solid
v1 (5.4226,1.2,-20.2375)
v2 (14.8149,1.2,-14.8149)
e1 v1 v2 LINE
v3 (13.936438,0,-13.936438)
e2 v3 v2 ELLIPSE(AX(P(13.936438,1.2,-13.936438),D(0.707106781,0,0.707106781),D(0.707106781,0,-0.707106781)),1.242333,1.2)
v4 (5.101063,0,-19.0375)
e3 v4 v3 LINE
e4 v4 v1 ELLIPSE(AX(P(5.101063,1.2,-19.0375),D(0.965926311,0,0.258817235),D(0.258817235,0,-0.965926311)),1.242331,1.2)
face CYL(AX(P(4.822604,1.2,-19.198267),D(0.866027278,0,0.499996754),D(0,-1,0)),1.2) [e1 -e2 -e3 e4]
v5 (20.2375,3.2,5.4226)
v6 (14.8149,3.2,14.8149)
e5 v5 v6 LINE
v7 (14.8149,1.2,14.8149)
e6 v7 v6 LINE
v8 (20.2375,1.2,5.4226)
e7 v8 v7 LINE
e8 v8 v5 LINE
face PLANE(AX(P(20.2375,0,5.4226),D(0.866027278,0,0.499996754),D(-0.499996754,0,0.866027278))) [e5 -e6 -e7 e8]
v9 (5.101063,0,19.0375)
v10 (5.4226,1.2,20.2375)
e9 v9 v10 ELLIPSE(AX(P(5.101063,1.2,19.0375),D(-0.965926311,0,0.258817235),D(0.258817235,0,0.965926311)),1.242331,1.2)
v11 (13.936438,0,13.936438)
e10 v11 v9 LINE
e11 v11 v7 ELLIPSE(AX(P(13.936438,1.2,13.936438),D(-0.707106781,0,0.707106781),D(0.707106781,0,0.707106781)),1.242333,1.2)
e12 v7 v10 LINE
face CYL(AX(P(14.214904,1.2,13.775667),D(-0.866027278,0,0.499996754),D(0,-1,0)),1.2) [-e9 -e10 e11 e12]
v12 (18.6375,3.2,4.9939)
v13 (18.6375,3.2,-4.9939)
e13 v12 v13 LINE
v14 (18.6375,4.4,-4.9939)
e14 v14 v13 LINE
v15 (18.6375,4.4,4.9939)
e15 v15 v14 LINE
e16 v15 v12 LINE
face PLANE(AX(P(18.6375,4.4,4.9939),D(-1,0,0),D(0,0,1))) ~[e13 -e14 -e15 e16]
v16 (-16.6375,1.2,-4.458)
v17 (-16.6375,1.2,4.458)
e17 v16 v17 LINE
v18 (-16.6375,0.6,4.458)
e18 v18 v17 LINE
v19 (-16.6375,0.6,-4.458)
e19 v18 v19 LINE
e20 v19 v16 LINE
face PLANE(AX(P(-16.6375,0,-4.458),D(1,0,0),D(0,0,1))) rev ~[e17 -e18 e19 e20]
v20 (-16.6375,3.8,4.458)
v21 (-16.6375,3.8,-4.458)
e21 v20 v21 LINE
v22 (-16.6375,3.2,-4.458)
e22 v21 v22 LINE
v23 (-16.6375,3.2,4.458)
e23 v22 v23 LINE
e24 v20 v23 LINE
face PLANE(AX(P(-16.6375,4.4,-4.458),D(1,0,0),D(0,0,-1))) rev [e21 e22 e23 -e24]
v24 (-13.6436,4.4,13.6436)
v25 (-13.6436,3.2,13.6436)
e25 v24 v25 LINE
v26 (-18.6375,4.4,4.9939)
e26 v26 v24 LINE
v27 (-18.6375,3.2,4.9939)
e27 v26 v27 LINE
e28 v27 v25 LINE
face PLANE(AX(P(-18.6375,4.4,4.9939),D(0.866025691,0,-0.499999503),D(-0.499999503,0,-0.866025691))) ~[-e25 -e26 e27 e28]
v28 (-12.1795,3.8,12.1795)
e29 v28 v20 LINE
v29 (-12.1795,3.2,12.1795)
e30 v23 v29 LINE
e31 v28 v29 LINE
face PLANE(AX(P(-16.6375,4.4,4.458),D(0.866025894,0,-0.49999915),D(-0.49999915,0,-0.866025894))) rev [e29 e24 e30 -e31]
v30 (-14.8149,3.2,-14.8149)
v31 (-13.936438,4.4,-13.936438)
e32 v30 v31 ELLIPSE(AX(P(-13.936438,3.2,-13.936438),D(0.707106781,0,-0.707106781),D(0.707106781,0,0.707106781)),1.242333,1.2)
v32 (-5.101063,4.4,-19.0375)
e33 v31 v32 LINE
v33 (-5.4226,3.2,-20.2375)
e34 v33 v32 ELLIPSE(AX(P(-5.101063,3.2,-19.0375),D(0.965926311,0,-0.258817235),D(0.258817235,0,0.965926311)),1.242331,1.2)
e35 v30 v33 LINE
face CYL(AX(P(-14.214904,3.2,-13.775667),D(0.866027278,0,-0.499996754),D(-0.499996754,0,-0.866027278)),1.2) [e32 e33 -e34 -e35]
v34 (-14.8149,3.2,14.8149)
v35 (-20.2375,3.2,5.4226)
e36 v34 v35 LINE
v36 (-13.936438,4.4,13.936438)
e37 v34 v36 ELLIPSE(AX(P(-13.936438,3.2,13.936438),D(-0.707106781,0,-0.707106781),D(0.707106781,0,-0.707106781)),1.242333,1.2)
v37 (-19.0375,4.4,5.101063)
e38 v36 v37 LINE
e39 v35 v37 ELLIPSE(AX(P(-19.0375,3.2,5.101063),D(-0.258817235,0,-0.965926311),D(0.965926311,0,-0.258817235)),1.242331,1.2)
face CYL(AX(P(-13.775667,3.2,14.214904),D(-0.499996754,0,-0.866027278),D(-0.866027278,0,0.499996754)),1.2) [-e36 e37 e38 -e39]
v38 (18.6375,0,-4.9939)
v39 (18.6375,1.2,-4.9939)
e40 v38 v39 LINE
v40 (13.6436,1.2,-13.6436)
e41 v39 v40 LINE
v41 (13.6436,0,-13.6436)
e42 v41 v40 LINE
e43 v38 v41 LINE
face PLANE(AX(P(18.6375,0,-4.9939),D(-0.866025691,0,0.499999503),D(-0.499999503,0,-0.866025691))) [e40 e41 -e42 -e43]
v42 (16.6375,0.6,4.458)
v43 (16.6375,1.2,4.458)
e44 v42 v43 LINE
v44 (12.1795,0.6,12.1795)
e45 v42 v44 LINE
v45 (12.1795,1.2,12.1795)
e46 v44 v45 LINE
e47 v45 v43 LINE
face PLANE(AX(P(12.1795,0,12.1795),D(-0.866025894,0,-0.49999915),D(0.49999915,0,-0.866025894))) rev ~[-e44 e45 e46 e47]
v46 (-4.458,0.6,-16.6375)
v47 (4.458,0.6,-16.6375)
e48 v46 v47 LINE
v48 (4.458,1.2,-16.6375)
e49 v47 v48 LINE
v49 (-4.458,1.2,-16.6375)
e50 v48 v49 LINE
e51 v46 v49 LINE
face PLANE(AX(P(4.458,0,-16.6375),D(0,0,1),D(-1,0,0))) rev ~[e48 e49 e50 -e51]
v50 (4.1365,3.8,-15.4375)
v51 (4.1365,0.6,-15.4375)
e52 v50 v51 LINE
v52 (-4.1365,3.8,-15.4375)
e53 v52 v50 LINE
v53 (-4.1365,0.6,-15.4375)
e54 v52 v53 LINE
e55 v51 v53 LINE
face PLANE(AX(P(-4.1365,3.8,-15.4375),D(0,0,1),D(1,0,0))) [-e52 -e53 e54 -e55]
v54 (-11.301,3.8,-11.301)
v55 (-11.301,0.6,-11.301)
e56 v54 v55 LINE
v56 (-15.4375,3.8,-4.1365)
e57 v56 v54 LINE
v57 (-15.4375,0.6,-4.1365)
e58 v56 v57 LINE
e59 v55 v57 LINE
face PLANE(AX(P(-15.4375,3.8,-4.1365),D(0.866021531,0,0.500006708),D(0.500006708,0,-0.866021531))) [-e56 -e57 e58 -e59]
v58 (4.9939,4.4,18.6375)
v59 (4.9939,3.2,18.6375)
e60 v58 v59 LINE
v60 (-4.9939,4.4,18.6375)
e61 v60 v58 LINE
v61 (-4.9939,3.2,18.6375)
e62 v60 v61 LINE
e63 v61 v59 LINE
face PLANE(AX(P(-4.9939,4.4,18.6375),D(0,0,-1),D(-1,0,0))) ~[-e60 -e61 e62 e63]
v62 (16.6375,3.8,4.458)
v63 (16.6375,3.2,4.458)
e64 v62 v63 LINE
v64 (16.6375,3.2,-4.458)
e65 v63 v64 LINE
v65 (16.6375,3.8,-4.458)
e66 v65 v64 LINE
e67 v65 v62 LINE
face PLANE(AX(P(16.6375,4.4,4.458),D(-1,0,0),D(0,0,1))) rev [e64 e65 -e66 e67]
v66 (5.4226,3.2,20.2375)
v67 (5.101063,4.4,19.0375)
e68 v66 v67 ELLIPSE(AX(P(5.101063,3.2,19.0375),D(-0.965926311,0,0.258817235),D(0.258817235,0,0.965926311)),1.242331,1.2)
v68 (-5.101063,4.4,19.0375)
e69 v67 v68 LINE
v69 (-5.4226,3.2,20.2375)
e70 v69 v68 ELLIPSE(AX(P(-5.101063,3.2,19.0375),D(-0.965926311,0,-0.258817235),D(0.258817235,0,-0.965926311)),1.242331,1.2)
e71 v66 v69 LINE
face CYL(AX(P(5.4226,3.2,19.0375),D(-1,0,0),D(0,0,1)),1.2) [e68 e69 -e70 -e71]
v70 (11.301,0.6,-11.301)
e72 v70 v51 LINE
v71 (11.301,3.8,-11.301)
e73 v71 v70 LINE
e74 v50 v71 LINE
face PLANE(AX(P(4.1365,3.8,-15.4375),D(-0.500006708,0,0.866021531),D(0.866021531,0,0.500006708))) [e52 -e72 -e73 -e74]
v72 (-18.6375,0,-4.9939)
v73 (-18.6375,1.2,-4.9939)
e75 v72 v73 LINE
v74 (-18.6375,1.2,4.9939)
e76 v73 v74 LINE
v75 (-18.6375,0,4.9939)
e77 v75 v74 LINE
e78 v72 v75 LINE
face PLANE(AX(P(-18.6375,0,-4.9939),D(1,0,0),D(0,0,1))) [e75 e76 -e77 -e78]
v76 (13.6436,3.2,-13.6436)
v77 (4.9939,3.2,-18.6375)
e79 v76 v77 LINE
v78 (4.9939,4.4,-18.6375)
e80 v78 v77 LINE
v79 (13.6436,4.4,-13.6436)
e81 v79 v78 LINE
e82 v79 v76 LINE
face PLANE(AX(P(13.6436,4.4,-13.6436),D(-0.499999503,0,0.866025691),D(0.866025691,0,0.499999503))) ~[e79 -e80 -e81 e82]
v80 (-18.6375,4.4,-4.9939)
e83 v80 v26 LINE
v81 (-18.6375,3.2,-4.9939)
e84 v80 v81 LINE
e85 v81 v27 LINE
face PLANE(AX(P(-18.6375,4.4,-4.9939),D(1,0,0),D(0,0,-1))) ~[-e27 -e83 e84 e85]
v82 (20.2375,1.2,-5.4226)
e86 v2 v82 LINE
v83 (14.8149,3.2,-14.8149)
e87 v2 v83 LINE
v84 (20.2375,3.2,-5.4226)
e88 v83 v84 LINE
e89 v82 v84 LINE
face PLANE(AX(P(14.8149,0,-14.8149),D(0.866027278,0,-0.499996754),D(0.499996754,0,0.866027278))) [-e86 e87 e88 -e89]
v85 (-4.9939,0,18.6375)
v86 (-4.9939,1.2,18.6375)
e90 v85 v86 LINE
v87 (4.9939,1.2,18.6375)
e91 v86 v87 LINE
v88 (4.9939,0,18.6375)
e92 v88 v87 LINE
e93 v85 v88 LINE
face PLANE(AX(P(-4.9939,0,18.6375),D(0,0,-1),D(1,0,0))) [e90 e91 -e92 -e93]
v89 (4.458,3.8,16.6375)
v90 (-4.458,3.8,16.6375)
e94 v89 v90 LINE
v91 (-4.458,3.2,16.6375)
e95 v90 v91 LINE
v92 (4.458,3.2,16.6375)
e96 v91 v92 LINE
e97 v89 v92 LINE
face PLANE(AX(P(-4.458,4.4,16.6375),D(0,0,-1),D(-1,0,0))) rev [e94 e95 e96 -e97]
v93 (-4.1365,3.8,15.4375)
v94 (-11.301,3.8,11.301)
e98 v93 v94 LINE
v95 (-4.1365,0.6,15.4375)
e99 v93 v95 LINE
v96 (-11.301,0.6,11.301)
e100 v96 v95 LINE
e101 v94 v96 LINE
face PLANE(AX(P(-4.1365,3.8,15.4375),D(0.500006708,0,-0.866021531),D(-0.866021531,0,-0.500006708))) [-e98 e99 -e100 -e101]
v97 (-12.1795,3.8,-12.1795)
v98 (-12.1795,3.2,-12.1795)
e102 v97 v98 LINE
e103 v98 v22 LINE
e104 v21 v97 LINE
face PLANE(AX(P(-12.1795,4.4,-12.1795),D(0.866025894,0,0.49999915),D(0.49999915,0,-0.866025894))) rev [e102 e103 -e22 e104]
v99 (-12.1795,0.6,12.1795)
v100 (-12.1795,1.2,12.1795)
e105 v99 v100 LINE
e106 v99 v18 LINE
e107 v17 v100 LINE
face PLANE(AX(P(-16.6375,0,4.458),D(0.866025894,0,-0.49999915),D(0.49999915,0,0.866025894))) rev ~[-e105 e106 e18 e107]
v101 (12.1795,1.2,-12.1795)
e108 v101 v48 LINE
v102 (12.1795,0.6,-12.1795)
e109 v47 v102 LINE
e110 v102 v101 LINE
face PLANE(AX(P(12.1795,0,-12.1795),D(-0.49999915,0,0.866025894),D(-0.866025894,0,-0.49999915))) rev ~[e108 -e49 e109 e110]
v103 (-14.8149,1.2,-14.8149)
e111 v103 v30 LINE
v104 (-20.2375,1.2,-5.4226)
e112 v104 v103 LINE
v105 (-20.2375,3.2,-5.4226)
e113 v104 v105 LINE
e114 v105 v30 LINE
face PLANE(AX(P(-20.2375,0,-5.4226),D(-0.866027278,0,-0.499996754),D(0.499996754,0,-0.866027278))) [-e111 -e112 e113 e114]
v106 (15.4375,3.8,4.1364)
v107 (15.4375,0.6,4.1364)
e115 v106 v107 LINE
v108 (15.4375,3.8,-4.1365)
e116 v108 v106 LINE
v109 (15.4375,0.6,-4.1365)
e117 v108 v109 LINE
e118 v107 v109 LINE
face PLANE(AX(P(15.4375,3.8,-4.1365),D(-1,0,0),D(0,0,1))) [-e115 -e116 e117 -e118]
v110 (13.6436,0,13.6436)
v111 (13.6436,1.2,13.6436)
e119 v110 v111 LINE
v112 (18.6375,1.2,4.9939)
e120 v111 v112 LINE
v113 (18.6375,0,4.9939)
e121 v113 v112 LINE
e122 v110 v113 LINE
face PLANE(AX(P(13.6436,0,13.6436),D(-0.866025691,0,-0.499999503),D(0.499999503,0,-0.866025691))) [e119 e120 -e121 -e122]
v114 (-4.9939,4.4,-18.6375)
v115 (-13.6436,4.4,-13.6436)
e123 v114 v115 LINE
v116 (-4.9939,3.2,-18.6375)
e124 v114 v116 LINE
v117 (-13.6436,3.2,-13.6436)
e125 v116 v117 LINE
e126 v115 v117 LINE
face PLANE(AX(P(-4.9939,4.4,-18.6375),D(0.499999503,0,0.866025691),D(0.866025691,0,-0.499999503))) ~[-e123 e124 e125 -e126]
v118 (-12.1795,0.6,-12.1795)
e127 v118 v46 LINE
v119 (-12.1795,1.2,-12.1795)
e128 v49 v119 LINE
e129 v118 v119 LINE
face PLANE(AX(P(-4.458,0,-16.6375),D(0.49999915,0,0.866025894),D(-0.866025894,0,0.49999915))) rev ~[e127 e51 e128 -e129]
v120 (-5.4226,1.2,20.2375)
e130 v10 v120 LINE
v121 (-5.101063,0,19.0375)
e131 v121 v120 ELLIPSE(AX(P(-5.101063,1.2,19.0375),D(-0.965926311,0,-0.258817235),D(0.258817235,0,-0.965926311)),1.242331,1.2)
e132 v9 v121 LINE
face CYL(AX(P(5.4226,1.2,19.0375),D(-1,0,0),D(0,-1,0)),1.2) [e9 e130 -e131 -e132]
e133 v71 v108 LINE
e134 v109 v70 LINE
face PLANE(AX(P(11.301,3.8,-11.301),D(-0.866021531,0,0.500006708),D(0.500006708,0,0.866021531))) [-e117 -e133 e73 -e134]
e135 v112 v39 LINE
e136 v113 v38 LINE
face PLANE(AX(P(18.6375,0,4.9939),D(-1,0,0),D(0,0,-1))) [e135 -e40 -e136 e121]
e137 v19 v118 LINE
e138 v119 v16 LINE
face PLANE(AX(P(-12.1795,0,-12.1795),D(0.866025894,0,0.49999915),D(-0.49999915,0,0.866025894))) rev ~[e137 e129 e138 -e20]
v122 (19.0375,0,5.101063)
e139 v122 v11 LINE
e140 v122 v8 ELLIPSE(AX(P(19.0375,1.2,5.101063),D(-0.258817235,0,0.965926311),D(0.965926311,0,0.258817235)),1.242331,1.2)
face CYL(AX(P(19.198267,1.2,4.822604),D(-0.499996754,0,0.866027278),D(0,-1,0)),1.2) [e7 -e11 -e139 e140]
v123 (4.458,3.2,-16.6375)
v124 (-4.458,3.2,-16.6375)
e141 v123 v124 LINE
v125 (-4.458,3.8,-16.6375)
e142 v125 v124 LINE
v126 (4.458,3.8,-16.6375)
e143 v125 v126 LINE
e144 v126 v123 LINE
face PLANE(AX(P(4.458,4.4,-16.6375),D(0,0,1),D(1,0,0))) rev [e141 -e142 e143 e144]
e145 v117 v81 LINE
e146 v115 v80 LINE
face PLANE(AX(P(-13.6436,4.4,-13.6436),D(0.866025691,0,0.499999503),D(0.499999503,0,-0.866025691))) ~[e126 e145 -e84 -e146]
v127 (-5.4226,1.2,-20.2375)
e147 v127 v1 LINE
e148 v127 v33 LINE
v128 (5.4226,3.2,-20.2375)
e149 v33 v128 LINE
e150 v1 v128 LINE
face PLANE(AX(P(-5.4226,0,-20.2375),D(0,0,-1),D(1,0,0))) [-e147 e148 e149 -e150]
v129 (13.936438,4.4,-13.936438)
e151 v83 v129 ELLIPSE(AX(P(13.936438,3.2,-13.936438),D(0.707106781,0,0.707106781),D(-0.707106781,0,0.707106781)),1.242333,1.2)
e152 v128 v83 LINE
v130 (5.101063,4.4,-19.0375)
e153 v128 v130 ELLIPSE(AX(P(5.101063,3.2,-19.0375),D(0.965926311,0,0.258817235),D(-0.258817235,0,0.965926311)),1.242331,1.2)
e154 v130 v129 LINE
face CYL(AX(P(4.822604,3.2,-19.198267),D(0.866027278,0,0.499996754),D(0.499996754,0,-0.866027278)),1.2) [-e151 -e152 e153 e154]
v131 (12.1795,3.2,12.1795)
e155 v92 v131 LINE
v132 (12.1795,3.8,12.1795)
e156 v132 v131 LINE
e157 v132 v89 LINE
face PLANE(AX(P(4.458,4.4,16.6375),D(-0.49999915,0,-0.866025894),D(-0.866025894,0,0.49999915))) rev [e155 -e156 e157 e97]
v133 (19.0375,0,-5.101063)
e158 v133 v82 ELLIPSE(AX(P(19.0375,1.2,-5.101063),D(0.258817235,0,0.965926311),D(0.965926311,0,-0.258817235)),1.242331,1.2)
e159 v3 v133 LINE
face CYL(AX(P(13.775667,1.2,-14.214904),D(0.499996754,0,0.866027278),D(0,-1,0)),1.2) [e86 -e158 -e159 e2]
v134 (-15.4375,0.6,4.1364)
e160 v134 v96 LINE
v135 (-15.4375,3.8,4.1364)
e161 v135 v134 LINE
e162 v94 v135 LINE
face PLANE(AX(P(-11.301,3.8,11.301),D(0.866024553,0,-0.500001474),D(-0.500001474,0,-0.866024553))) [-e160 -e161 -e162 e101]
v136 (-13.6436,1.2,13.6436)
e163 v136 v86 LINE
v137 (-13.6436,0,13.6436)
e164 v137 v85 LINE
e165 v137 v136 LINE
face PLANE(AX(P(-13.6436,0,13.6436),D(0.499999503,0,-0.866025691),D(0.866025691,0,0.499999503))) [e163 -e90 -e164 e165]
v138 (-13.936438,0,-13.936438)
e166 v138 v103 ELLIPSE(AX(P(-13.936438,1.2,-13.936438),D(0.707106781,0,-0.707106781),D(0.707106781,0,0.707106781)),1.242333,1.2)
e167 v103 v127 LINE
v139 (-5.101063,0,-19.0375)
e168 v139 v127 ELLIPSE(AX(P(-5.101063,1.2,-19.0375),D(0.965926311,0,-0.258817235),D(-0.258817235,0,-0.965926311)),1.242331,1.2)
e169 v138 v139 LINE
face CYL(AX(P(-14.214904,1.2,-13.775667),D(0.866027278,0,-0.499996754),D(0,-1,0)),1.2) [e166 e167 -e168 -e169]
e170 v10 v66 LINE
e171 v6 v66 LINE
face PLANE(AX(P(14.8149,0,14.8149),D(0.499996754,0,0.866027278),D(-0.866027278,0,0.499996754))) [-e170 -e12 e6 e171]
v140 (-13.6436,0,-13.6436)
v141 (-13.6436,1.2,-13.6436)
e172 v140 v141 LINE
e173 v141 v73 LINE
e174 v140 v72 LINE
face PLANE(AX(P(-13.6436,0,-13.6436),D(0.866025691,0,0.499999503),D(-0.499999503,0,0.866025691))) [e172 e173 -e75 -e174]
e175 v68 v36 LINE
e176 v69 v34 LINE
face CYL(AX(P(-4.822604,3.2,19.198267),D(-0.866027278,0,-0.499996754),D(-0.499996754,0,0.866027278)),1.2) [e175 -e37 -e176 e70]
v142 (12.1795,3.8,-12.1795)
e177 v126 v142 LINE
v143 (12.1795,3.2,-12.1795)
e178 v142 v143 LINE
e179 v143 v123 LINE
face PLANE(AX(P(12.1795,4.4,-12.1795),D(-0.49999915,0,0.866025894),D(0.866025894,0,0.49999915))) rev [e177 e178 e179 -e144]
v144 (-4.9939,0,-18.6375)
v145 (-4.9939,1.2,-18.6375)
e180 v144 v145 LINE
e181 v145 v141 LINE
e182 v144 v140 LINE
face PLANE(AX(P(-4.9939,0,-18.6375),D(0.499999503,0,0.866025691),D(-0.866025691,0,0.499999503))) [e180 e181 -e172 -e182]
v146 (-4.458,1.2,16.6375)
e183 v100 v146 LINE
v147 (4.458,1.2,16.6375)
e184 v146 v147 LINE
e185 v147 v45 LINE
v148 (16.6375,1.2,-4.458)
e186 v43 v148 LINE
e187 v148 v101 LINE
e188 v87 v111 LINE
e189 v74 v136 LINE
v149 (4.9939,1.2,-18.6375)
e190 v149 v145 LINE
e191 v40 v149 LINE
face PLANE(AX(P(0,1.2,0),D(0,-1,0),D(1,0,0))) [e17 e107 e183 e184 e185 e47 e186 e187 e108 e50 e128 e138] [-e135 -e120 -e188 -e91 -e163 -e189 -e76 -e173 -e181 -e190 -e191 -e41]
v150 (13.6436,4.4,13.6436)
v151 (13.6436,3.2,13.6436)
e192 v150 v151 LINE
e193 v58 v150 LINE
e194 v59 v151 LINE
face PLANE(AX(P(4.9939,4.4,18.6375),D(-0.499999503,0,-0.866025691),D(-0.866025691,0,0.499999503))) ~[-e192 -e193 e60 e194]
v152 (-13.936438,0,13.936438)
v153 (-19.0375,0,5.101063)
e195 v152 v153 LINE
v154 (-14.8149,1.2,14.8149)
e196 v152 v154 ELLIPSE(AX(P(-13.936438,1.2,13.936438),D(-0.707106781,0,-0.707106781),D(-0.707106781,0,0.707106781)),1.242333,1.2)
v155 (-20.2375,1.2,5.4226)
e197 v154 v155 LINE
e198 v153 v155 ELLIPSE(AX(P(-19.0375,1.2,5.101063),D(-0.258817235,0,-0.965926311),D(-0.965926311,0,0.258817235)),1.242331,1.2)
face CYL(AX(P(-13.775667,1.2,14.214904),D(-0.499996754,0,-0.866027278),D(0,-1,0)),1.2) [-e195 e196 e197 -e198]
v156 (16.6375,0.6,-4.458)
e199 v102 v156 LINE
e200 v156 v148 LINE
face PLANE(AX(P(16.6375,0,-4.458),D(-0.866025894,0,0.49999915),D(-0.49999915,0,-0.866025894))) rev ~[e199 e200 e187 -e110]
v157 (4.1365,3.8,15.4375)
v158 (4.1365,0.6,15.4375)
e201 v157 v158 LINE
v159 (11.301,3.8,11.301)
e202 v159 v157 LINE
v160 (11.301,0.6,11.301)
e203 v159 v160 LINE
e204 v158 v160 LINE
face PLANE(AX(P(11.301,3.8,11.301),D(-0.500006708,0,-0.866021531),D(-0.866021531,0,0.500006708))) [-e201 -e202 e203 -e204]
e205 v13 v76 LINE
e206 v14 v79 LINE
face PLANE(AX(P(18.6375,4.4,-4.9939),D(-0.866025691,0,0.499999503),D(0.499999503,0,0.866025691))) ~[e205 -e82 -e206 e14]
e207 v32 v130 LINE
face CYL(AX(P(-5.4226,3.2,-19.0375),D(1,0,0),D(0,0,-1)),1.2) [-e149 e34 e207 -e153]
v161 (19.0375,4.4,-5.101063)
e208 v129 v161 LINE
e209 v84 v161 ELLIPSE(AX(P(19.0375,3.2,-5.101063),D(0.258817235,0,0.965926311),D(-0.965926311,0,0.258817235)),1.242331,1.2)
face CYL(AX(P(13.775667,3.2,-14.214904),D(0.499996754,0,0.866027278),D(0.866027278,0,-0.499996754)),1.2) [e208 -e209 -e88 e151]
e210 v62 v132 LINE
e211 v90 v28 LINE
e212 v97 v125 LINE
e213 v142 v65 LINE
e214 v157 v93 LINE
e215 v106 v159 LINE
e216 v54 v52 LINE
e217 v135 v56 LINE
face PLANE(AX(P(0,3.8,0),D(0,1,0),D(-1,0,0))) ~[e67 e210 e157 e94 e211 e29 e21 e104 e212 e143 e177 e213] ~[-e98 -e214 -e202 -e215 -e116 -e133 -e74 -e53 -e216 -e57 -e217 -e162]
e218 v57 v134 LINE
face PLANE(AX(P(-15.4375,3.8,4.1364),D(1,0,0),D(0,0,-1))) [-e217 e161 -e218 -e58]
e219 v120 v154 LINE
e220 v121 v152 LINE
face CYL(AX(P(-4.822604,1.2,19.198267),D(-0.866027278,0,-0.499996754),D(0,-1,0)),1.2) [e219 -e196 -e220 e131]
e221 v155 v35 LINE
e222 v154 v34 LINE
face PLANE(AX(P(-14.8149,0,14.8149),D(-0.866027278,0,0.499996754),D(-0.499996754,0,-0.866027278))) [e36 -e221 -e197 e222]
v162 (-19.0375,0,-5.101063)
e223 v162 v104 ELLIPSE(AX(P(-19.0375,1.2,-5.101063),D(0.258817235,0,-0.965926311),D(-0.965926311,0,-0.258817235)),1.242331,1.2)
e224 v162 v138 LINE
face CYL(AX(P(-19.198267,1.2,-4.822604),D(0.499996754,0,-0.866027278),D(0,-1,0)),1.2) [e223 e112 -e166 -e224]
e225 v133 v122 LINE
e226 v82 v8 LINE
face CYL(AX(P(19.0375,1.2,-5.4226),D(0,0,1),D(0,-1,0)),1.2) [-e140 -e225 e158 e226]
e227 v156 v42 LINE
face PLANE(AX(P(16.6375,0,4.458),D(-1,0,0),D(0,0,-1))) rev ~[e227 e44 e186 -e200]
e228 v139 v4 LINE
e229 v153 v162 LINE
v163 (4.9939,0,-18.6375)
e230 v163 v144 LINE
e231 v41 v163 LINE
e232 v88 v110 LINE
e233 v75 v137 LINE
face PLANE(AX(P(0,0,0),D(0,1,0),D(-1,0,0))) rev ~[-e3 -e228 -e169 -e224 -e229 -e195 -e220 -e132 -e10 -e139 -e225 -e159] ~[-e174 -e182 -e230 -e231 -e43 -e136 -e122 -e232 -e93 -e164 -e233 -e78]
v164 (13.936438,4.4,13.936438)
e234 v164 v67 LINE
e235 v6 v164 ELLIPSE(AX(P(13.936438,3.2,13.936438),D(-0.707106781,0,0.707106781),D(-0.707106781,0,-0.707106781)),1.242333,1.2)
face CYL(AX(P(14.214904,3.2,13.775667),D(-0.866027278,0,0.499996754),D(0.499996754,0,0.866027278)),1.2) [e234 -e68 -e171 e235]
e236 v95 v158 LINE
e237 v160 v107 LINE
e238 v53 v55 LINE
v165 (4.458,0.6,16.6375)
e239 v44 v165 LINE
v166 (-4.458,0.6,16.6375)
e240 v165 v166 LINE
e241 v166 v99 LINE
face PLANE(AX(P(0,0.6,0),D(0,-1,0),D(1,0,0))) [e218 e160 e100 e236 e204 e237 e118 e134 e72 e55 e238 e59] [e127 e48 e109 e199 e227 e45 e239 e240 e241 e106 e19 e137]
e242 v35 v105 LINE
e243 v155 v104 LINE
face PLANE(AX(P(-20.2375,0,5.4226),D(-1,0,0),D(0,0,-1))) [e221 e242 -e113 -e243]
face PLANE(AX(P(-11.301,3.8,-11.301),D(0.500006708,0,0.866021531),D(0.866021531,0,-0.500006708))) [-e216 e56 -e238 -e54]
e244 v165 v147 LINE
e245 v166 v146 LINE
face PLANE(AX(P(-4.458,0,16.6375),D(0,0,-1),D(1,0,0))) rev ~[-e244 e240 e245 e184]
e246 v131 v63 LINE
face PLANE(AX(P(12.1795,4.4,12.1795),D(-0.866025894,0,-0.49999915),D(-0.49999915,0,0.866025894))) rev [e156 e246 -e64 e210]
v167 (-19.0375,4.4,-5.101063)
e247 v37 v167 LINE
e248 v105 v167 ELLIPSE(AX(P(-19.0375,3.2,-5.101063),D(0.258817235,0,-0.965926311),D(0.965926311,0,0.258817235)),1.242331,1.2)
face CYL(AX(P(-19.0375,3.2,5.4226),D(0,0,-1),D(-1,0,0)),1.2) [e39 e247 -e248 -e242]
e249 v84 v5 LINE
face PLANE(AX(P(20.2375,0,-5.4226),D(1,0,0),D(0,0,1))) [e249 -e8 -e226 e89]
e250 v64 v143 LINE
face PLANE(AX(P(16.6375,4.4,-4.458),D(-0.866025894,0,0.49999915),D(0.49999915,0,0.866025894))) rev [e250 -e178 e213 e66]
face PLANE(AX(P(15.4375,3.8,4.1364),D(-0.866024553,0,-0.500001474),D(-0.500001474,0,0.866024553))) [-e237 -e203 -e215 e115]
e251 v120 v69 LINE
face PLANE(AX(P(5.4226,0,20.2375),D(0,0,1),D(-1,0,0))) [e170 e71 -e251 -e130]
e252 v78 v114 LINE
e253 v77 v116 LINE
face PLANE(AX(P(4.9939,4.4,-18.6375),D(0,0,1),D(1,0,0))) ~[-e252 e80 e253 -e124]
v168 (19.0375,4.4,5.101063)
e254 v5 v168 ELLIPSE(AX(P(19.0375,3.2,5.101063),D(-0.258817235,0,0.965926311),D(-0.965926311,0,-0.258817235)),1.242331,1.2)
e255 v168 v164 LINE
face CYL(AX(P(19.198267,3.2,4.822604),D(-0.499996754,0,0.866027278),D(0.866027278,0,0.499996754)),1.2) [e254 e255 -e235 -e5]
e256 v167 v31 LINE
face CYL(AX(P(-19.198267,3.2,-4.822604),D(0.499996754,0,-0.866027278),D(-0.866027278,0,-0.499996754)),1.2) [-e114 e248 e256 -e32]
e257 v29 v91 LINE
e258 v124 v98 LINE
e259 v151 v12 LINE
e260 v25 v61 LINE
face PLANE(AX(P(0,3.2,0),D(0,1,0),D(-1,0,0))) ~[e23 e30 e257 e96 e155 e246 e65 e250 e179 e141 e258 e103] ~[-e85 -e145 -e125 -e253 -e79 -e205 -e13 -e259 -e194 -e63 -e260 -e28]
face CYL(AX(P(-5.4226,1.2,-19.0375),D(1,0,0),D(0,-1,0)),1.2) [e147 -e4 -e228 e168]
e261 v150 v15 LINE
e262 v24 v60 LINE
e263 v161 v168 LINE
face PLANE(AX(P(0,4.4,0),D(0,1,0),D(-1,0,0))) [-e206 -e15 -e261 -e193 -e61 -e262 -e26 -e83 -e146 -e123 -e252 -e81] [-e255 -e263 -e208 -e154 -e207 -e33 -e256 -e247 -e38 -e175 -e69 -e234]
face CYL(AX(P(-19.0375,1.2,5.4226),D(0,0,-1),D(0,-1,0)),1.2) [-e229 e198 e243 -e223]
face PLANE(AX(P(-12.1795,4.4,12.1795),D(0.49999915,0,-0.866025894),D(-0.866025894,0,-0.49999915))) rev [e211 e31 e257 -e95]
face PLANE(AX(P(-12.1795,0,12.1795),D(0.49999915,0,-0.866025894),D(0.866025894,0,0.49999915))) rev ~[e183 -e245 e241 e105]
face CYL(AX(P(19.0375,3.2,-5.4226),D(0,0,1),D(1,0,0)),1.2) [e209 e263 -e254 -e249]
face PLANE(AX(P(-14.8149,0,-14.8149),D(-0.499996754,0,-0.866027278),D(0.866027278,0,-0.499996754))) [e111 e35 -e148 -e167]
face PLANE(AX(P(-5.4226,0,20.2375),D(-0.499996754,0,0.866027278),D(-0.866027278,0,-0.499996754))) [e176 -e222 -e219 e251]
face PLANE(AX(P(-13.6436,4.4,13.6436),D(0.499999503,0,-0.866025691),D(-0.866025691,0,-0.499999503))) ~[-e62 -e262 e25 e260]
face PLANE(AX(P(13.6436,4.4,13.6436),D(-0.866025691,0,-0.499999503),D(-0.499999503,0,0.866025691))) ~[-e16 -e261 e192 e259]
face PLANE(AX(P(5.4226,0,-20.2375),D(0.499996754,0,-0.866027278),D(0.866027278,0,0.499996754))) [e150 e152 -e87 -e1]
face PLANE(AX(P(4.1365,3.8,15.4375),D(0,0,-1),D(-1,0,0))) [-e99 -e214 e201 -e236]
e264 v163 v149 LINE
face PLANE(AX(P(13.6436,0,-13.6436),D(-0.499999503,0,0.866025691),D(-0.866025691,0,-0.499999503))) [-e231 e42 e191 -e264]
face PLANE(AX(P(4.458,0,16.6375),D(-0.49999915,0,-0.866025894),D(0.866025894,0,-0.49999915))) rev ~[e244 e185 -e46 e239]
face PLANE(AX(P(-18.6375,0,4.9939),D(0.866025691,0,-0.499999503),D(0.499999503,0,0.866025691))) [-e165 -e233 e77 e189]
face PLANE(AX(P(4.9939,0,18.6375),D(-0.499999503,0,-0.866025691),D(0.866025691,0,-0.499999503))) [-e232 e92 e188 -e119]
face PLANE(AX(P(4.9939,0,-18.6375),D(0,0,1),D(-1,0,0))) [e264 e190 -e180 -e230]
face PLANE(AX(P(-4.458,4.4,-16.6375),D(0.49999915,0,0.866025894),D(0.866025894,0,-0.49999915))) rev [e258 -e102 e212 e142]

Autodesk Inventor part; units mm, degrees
ref_plane "YZ Plane" through (0, 0, 0) normal (1, 0, 0) x (0, 1, 0)
ref_plane "XZ Plane" through (0, 0, 0) normal (0, 1, 0) x (-1, 0, 0)
sketch "스케치1" plane through (0, 0, 0) normal (0, 1, 0) x (-1, 0, 0)
  line L0 (12.4723, -12.4723) -> (4.5652, -17.0375)
  line L1 (4.5652, -17.0375) -> (-4.5652, -17.0375)
  line L2 (-4.5652, -17.0375) -> (-12.4723, -12.4723)
  line L3 (-12.4723, -12.4723) -> (-17.0375, -4.5652)
  line L4 (-17.0375, -4.5652) -> (-17.0375, 4.5652)
  line L5 (-17.0375, 4.5652) -> (-12.4723, 12.4723)
  line L6 (-12.4723, 12.4723) -> (-4.5652, 17.0375)
  line L7 (-4.5652, 17.0375) -> (4.5652, 17.0375)
  line L8 (4.5652, 17.0375) -> (12.4723, 12.4723)
  line L9 (12.4723, 12.4723) -> (17.0375, 4.5652)
  line L10 (17.0375, 4.5652) -> (17.0375, -4.5652)
  line L11 (17.0375, -4.5652) -> (12.4723, -12.4723)
  line L12 (-5.4226, 20.2375) -> (5.4226, 20.2375)
  line L13 (5.4226, 20.2375) -> (14.8149, 14.8149)
  line L14 (14.8149, 14.8149) -> (20.2375, 5.4226)
  line L15 (20.2375, 5.4226) -> (20.2375, -5.4226)
  line L16 (20.2375, -5.4226) -> (14.8149, -14.8149)
  line L17 (14.8149, -14.8149) -> (5.4226, -20.2375)
  line L18 (5.4226, -20.2375) -> (-5.4226, -20.2375)
  line L19 (-5.4226, -20.2375) -> (-14.8149, -14.8149)
  line L20 (-14.8149, -14.8149) -> (-20.2375, -5.4226)
  line L21 (-20.2375, -5.4226) -> (-20.2375, 5.4226)
  line L22 (-20.2375, 5.4226) -> (-14.8149, 14.8149)
  line L23 (-14.8149, 14.8149) -> (-5.4226, 20.2375)
  point P0 (0, 0)
  point P1 (0, 0)
  point P2 (0, 0)
  dimension "d0" = 35.277
  dimension "d1" = 3.2
extrude "돌출1" add sketch "스케치1" along normal blind 4.4 contours L0 L1 L2 L3 L4 L5 L6 L7 L8 L9 L10 L11 | L12 L13 L14 L15 L16 L17 L18 L19 L20 L21 L22 L23
fillet "모깎기1" radius 1.2 24 edges at (10.1187, 4.4, 17.5262) (17.5262, 4.4, 10.1187) (20.2375, 4.4, 0) (17.5262, 4.4, -10.1187) (10.1187, 4.4, -17.5262) (0, 4.4, -20.2375) (-10.1187, 4.4, -17.5262) (-17.5262, 4.4, -10.1187) (-20.2375, 4.4, 0) (-17.5262, 4.4, 10.1187) (-10.1187, 4.4, 17.5262) (0, 4.4, 20.2375) (-10.1187, 0, 17.5262) (-17.5262, 0, 10.1187) (-20.2375, 0, 0) (-10.1187, 0, -17.5262) (-17.5262, 0, -10.1187) (0, 0, -20.2375) (10.1187, 0, -17.5262) (17.5262, 0, -10.1187) (20.2375, 0, 0) (17.5262, 0, 10.1187) (10.1187, 0, 17.5262) (0, 0, 20.2375)
sketch "스케치6" plane through (0, 0, 0) normal (0, -1, 0) x (1, 0, 0)
  line L0 (13.6436, -13.6436) -> (4.9939, -18.6375)
  line L1 (4.9939, -18.6375) -> (-4.9939, -18.6375)
  line L2 (-4.9939, -18.6375) -> (-13.6436, -13.6436)
  line L3 (-13.6436, -13.6436) -> (-18.6375, -4.9939)
  line L4 (-18.6375, -4.9939) -> (-18.6375, 4.9939)
  line L5 (-18.6375, 4.9939) -> (-13.6436, 13.6436)
  line L6 (-13.6436, 13.6436) -> (-4.9939, 18.6375)
  line L7 (-4.9939, 18.6375) -> (4.9939, 18.6375)
  line L8 (4.9939, 18.6375) -> (13.6436, 13.6436)
  line L9 (13.6436, 13.6436) -> (18.6375, 4.9939)
  line L10 (18.6375, 4.9939) -> (18.6375, -4.9939)
  line L11 (18.6375, -4.9939) -> (13.6436, -13.6436)
  line L12 (20.2375, 5.4226) -> (14.8149, 14.8149) projected
  line L13 (4.458, 16.6375) -> (12.1795, 12.1795)
  line L14 (12.1795, 12.1795) -> (16.6375, 4.458)
  line L15 (16.6375, 4.458) -> (16.6375, -4.458)
  line L16 (16.6375, -4.458) -> (12.1795, -12.1795)
  line L17 (12.1795, -12.1795) -> (4.458, -16.6375)
  line L18 (4.458, -16.6375) -> (-4.458, -16.6375)
  line L19 (-4.458, -16.6375) -> (-12.1795, -12.1795)
  line L20 (-12.1795, -12.1795) -> (-16.6375, -4.458)
  line L21 (-16.6375, -4.458) -> (-16.6375, 4.458)
  line L22 (-16.6375, 4.458) -> (-12.1795, 12.1795)
  line L23 (-12.1795, 12.1795) -> (-4.458, 16.6375)
  line L24 (-4.458, 16.6375) -> (4.458, 16.6375)
  point P0 (0, 0)
  point P1 (0, 0)
  point P2 (0, 0)
  dimension "d20" = 1.6
  dimension "d21" = 2
extrude "돌출6" cut sketch "스케치6" against normal blind 1.2
sketch "스케치7" plane through (0, 0, 0) normal (0, -1, 0) x (1, 0, 0)
  line L0 (16.6375, 4.458) -> (12.1795, 12.1795) projected
  line L1 (12.1795, 12.1795) -> (4.458, 16.6375) projected
  line L2 (4.458, 16.6375) -> (-4.458, 16.6375) projected
  line L3 (-4.458, 16.6375) -> (-12.1795, 12.1795) projected
  line L4 (-12.1795, 12.1795) -> (-16.6375, 4.458) projected
  line L5 (-16.6375, 4.458) -> (-16.6375, -4.458) projected
  line L6 (-16.6375, -4.458) -> (-12.1795, -12.1795) projected
  line L7 (-12.1795, -12.1795) -> (-4.458, -16.6375) projected
  line L8 (-4.458, -16.6375) -> (4.458, -16.6375) projected
  line L9 (4.458, -16.6375) -> (12.1795, -12.1795) projected
  line L10 (12.1795, -12.1795) -> (16.6375, -4.458) projected
  line L11 (16.6375, -4.458) -> (16.6375, 4.458) projected
  point P0 (0, 0)
extrude "돌출7" cut sketch "스케치7" against normal blind 0.6
ref_plane "작업 평면1" through (0, 2.2, 0) normal (0, 1, 0) x (1, 0, 0)
mirror "미러1" about plane through (0, 2.2, 0) normal (0, 1, 0) of "돌출7", "돌출6"
sketch "스케치10" plane through (-4.458, 3.8, -16.6375) normal (0, 1, 0) x (1, 0, 0)
  line L0 (0.3215, -32.075) -> (-6.843, -27.9385)
  line L1 (-6.843, -27.9385) -> (-10.9795, -20.7739)
  line L2 (-10.9795, -20.7739) -> (-10.9795, -12.501)
  line L3 (-10.9795, -12.501) -> (-6.843, -5.3365)
  line L4 (-6.843, -5.3365) -> (0.3215, -1.2)
  line L5 (0.3215, -1.2) -> (8.5945, -1.2)
  line L6 (8.5945, -1.2) -> (15.759, -5.3365)
  line L7 (15.759, -5.3365) -> (19.8955, -12.501)
  line L8 (19.8955, -12.501) -> (19.8955, -20.7739)
  line L9 (19.8955, -20.7739) -> (15.759, -27.9385)
  line L10 (15.759, -27.9385) -> (8.5945, -32.075)
  line L11 (8.5945, -32.075) -> (0.3215, -32.075)
  line L12 (8.916, -33.275) -> (0, -33.275) projected
  point P0 (4.458, -16.6375)
  point P1 (4.458, -16.6375)
  dimension "d37" = 1.2
extrude "돌출10" cut sketch "스케치10" against normal blind 10
properties part number "(x0.5)_POSPA_Tiny_Top"
